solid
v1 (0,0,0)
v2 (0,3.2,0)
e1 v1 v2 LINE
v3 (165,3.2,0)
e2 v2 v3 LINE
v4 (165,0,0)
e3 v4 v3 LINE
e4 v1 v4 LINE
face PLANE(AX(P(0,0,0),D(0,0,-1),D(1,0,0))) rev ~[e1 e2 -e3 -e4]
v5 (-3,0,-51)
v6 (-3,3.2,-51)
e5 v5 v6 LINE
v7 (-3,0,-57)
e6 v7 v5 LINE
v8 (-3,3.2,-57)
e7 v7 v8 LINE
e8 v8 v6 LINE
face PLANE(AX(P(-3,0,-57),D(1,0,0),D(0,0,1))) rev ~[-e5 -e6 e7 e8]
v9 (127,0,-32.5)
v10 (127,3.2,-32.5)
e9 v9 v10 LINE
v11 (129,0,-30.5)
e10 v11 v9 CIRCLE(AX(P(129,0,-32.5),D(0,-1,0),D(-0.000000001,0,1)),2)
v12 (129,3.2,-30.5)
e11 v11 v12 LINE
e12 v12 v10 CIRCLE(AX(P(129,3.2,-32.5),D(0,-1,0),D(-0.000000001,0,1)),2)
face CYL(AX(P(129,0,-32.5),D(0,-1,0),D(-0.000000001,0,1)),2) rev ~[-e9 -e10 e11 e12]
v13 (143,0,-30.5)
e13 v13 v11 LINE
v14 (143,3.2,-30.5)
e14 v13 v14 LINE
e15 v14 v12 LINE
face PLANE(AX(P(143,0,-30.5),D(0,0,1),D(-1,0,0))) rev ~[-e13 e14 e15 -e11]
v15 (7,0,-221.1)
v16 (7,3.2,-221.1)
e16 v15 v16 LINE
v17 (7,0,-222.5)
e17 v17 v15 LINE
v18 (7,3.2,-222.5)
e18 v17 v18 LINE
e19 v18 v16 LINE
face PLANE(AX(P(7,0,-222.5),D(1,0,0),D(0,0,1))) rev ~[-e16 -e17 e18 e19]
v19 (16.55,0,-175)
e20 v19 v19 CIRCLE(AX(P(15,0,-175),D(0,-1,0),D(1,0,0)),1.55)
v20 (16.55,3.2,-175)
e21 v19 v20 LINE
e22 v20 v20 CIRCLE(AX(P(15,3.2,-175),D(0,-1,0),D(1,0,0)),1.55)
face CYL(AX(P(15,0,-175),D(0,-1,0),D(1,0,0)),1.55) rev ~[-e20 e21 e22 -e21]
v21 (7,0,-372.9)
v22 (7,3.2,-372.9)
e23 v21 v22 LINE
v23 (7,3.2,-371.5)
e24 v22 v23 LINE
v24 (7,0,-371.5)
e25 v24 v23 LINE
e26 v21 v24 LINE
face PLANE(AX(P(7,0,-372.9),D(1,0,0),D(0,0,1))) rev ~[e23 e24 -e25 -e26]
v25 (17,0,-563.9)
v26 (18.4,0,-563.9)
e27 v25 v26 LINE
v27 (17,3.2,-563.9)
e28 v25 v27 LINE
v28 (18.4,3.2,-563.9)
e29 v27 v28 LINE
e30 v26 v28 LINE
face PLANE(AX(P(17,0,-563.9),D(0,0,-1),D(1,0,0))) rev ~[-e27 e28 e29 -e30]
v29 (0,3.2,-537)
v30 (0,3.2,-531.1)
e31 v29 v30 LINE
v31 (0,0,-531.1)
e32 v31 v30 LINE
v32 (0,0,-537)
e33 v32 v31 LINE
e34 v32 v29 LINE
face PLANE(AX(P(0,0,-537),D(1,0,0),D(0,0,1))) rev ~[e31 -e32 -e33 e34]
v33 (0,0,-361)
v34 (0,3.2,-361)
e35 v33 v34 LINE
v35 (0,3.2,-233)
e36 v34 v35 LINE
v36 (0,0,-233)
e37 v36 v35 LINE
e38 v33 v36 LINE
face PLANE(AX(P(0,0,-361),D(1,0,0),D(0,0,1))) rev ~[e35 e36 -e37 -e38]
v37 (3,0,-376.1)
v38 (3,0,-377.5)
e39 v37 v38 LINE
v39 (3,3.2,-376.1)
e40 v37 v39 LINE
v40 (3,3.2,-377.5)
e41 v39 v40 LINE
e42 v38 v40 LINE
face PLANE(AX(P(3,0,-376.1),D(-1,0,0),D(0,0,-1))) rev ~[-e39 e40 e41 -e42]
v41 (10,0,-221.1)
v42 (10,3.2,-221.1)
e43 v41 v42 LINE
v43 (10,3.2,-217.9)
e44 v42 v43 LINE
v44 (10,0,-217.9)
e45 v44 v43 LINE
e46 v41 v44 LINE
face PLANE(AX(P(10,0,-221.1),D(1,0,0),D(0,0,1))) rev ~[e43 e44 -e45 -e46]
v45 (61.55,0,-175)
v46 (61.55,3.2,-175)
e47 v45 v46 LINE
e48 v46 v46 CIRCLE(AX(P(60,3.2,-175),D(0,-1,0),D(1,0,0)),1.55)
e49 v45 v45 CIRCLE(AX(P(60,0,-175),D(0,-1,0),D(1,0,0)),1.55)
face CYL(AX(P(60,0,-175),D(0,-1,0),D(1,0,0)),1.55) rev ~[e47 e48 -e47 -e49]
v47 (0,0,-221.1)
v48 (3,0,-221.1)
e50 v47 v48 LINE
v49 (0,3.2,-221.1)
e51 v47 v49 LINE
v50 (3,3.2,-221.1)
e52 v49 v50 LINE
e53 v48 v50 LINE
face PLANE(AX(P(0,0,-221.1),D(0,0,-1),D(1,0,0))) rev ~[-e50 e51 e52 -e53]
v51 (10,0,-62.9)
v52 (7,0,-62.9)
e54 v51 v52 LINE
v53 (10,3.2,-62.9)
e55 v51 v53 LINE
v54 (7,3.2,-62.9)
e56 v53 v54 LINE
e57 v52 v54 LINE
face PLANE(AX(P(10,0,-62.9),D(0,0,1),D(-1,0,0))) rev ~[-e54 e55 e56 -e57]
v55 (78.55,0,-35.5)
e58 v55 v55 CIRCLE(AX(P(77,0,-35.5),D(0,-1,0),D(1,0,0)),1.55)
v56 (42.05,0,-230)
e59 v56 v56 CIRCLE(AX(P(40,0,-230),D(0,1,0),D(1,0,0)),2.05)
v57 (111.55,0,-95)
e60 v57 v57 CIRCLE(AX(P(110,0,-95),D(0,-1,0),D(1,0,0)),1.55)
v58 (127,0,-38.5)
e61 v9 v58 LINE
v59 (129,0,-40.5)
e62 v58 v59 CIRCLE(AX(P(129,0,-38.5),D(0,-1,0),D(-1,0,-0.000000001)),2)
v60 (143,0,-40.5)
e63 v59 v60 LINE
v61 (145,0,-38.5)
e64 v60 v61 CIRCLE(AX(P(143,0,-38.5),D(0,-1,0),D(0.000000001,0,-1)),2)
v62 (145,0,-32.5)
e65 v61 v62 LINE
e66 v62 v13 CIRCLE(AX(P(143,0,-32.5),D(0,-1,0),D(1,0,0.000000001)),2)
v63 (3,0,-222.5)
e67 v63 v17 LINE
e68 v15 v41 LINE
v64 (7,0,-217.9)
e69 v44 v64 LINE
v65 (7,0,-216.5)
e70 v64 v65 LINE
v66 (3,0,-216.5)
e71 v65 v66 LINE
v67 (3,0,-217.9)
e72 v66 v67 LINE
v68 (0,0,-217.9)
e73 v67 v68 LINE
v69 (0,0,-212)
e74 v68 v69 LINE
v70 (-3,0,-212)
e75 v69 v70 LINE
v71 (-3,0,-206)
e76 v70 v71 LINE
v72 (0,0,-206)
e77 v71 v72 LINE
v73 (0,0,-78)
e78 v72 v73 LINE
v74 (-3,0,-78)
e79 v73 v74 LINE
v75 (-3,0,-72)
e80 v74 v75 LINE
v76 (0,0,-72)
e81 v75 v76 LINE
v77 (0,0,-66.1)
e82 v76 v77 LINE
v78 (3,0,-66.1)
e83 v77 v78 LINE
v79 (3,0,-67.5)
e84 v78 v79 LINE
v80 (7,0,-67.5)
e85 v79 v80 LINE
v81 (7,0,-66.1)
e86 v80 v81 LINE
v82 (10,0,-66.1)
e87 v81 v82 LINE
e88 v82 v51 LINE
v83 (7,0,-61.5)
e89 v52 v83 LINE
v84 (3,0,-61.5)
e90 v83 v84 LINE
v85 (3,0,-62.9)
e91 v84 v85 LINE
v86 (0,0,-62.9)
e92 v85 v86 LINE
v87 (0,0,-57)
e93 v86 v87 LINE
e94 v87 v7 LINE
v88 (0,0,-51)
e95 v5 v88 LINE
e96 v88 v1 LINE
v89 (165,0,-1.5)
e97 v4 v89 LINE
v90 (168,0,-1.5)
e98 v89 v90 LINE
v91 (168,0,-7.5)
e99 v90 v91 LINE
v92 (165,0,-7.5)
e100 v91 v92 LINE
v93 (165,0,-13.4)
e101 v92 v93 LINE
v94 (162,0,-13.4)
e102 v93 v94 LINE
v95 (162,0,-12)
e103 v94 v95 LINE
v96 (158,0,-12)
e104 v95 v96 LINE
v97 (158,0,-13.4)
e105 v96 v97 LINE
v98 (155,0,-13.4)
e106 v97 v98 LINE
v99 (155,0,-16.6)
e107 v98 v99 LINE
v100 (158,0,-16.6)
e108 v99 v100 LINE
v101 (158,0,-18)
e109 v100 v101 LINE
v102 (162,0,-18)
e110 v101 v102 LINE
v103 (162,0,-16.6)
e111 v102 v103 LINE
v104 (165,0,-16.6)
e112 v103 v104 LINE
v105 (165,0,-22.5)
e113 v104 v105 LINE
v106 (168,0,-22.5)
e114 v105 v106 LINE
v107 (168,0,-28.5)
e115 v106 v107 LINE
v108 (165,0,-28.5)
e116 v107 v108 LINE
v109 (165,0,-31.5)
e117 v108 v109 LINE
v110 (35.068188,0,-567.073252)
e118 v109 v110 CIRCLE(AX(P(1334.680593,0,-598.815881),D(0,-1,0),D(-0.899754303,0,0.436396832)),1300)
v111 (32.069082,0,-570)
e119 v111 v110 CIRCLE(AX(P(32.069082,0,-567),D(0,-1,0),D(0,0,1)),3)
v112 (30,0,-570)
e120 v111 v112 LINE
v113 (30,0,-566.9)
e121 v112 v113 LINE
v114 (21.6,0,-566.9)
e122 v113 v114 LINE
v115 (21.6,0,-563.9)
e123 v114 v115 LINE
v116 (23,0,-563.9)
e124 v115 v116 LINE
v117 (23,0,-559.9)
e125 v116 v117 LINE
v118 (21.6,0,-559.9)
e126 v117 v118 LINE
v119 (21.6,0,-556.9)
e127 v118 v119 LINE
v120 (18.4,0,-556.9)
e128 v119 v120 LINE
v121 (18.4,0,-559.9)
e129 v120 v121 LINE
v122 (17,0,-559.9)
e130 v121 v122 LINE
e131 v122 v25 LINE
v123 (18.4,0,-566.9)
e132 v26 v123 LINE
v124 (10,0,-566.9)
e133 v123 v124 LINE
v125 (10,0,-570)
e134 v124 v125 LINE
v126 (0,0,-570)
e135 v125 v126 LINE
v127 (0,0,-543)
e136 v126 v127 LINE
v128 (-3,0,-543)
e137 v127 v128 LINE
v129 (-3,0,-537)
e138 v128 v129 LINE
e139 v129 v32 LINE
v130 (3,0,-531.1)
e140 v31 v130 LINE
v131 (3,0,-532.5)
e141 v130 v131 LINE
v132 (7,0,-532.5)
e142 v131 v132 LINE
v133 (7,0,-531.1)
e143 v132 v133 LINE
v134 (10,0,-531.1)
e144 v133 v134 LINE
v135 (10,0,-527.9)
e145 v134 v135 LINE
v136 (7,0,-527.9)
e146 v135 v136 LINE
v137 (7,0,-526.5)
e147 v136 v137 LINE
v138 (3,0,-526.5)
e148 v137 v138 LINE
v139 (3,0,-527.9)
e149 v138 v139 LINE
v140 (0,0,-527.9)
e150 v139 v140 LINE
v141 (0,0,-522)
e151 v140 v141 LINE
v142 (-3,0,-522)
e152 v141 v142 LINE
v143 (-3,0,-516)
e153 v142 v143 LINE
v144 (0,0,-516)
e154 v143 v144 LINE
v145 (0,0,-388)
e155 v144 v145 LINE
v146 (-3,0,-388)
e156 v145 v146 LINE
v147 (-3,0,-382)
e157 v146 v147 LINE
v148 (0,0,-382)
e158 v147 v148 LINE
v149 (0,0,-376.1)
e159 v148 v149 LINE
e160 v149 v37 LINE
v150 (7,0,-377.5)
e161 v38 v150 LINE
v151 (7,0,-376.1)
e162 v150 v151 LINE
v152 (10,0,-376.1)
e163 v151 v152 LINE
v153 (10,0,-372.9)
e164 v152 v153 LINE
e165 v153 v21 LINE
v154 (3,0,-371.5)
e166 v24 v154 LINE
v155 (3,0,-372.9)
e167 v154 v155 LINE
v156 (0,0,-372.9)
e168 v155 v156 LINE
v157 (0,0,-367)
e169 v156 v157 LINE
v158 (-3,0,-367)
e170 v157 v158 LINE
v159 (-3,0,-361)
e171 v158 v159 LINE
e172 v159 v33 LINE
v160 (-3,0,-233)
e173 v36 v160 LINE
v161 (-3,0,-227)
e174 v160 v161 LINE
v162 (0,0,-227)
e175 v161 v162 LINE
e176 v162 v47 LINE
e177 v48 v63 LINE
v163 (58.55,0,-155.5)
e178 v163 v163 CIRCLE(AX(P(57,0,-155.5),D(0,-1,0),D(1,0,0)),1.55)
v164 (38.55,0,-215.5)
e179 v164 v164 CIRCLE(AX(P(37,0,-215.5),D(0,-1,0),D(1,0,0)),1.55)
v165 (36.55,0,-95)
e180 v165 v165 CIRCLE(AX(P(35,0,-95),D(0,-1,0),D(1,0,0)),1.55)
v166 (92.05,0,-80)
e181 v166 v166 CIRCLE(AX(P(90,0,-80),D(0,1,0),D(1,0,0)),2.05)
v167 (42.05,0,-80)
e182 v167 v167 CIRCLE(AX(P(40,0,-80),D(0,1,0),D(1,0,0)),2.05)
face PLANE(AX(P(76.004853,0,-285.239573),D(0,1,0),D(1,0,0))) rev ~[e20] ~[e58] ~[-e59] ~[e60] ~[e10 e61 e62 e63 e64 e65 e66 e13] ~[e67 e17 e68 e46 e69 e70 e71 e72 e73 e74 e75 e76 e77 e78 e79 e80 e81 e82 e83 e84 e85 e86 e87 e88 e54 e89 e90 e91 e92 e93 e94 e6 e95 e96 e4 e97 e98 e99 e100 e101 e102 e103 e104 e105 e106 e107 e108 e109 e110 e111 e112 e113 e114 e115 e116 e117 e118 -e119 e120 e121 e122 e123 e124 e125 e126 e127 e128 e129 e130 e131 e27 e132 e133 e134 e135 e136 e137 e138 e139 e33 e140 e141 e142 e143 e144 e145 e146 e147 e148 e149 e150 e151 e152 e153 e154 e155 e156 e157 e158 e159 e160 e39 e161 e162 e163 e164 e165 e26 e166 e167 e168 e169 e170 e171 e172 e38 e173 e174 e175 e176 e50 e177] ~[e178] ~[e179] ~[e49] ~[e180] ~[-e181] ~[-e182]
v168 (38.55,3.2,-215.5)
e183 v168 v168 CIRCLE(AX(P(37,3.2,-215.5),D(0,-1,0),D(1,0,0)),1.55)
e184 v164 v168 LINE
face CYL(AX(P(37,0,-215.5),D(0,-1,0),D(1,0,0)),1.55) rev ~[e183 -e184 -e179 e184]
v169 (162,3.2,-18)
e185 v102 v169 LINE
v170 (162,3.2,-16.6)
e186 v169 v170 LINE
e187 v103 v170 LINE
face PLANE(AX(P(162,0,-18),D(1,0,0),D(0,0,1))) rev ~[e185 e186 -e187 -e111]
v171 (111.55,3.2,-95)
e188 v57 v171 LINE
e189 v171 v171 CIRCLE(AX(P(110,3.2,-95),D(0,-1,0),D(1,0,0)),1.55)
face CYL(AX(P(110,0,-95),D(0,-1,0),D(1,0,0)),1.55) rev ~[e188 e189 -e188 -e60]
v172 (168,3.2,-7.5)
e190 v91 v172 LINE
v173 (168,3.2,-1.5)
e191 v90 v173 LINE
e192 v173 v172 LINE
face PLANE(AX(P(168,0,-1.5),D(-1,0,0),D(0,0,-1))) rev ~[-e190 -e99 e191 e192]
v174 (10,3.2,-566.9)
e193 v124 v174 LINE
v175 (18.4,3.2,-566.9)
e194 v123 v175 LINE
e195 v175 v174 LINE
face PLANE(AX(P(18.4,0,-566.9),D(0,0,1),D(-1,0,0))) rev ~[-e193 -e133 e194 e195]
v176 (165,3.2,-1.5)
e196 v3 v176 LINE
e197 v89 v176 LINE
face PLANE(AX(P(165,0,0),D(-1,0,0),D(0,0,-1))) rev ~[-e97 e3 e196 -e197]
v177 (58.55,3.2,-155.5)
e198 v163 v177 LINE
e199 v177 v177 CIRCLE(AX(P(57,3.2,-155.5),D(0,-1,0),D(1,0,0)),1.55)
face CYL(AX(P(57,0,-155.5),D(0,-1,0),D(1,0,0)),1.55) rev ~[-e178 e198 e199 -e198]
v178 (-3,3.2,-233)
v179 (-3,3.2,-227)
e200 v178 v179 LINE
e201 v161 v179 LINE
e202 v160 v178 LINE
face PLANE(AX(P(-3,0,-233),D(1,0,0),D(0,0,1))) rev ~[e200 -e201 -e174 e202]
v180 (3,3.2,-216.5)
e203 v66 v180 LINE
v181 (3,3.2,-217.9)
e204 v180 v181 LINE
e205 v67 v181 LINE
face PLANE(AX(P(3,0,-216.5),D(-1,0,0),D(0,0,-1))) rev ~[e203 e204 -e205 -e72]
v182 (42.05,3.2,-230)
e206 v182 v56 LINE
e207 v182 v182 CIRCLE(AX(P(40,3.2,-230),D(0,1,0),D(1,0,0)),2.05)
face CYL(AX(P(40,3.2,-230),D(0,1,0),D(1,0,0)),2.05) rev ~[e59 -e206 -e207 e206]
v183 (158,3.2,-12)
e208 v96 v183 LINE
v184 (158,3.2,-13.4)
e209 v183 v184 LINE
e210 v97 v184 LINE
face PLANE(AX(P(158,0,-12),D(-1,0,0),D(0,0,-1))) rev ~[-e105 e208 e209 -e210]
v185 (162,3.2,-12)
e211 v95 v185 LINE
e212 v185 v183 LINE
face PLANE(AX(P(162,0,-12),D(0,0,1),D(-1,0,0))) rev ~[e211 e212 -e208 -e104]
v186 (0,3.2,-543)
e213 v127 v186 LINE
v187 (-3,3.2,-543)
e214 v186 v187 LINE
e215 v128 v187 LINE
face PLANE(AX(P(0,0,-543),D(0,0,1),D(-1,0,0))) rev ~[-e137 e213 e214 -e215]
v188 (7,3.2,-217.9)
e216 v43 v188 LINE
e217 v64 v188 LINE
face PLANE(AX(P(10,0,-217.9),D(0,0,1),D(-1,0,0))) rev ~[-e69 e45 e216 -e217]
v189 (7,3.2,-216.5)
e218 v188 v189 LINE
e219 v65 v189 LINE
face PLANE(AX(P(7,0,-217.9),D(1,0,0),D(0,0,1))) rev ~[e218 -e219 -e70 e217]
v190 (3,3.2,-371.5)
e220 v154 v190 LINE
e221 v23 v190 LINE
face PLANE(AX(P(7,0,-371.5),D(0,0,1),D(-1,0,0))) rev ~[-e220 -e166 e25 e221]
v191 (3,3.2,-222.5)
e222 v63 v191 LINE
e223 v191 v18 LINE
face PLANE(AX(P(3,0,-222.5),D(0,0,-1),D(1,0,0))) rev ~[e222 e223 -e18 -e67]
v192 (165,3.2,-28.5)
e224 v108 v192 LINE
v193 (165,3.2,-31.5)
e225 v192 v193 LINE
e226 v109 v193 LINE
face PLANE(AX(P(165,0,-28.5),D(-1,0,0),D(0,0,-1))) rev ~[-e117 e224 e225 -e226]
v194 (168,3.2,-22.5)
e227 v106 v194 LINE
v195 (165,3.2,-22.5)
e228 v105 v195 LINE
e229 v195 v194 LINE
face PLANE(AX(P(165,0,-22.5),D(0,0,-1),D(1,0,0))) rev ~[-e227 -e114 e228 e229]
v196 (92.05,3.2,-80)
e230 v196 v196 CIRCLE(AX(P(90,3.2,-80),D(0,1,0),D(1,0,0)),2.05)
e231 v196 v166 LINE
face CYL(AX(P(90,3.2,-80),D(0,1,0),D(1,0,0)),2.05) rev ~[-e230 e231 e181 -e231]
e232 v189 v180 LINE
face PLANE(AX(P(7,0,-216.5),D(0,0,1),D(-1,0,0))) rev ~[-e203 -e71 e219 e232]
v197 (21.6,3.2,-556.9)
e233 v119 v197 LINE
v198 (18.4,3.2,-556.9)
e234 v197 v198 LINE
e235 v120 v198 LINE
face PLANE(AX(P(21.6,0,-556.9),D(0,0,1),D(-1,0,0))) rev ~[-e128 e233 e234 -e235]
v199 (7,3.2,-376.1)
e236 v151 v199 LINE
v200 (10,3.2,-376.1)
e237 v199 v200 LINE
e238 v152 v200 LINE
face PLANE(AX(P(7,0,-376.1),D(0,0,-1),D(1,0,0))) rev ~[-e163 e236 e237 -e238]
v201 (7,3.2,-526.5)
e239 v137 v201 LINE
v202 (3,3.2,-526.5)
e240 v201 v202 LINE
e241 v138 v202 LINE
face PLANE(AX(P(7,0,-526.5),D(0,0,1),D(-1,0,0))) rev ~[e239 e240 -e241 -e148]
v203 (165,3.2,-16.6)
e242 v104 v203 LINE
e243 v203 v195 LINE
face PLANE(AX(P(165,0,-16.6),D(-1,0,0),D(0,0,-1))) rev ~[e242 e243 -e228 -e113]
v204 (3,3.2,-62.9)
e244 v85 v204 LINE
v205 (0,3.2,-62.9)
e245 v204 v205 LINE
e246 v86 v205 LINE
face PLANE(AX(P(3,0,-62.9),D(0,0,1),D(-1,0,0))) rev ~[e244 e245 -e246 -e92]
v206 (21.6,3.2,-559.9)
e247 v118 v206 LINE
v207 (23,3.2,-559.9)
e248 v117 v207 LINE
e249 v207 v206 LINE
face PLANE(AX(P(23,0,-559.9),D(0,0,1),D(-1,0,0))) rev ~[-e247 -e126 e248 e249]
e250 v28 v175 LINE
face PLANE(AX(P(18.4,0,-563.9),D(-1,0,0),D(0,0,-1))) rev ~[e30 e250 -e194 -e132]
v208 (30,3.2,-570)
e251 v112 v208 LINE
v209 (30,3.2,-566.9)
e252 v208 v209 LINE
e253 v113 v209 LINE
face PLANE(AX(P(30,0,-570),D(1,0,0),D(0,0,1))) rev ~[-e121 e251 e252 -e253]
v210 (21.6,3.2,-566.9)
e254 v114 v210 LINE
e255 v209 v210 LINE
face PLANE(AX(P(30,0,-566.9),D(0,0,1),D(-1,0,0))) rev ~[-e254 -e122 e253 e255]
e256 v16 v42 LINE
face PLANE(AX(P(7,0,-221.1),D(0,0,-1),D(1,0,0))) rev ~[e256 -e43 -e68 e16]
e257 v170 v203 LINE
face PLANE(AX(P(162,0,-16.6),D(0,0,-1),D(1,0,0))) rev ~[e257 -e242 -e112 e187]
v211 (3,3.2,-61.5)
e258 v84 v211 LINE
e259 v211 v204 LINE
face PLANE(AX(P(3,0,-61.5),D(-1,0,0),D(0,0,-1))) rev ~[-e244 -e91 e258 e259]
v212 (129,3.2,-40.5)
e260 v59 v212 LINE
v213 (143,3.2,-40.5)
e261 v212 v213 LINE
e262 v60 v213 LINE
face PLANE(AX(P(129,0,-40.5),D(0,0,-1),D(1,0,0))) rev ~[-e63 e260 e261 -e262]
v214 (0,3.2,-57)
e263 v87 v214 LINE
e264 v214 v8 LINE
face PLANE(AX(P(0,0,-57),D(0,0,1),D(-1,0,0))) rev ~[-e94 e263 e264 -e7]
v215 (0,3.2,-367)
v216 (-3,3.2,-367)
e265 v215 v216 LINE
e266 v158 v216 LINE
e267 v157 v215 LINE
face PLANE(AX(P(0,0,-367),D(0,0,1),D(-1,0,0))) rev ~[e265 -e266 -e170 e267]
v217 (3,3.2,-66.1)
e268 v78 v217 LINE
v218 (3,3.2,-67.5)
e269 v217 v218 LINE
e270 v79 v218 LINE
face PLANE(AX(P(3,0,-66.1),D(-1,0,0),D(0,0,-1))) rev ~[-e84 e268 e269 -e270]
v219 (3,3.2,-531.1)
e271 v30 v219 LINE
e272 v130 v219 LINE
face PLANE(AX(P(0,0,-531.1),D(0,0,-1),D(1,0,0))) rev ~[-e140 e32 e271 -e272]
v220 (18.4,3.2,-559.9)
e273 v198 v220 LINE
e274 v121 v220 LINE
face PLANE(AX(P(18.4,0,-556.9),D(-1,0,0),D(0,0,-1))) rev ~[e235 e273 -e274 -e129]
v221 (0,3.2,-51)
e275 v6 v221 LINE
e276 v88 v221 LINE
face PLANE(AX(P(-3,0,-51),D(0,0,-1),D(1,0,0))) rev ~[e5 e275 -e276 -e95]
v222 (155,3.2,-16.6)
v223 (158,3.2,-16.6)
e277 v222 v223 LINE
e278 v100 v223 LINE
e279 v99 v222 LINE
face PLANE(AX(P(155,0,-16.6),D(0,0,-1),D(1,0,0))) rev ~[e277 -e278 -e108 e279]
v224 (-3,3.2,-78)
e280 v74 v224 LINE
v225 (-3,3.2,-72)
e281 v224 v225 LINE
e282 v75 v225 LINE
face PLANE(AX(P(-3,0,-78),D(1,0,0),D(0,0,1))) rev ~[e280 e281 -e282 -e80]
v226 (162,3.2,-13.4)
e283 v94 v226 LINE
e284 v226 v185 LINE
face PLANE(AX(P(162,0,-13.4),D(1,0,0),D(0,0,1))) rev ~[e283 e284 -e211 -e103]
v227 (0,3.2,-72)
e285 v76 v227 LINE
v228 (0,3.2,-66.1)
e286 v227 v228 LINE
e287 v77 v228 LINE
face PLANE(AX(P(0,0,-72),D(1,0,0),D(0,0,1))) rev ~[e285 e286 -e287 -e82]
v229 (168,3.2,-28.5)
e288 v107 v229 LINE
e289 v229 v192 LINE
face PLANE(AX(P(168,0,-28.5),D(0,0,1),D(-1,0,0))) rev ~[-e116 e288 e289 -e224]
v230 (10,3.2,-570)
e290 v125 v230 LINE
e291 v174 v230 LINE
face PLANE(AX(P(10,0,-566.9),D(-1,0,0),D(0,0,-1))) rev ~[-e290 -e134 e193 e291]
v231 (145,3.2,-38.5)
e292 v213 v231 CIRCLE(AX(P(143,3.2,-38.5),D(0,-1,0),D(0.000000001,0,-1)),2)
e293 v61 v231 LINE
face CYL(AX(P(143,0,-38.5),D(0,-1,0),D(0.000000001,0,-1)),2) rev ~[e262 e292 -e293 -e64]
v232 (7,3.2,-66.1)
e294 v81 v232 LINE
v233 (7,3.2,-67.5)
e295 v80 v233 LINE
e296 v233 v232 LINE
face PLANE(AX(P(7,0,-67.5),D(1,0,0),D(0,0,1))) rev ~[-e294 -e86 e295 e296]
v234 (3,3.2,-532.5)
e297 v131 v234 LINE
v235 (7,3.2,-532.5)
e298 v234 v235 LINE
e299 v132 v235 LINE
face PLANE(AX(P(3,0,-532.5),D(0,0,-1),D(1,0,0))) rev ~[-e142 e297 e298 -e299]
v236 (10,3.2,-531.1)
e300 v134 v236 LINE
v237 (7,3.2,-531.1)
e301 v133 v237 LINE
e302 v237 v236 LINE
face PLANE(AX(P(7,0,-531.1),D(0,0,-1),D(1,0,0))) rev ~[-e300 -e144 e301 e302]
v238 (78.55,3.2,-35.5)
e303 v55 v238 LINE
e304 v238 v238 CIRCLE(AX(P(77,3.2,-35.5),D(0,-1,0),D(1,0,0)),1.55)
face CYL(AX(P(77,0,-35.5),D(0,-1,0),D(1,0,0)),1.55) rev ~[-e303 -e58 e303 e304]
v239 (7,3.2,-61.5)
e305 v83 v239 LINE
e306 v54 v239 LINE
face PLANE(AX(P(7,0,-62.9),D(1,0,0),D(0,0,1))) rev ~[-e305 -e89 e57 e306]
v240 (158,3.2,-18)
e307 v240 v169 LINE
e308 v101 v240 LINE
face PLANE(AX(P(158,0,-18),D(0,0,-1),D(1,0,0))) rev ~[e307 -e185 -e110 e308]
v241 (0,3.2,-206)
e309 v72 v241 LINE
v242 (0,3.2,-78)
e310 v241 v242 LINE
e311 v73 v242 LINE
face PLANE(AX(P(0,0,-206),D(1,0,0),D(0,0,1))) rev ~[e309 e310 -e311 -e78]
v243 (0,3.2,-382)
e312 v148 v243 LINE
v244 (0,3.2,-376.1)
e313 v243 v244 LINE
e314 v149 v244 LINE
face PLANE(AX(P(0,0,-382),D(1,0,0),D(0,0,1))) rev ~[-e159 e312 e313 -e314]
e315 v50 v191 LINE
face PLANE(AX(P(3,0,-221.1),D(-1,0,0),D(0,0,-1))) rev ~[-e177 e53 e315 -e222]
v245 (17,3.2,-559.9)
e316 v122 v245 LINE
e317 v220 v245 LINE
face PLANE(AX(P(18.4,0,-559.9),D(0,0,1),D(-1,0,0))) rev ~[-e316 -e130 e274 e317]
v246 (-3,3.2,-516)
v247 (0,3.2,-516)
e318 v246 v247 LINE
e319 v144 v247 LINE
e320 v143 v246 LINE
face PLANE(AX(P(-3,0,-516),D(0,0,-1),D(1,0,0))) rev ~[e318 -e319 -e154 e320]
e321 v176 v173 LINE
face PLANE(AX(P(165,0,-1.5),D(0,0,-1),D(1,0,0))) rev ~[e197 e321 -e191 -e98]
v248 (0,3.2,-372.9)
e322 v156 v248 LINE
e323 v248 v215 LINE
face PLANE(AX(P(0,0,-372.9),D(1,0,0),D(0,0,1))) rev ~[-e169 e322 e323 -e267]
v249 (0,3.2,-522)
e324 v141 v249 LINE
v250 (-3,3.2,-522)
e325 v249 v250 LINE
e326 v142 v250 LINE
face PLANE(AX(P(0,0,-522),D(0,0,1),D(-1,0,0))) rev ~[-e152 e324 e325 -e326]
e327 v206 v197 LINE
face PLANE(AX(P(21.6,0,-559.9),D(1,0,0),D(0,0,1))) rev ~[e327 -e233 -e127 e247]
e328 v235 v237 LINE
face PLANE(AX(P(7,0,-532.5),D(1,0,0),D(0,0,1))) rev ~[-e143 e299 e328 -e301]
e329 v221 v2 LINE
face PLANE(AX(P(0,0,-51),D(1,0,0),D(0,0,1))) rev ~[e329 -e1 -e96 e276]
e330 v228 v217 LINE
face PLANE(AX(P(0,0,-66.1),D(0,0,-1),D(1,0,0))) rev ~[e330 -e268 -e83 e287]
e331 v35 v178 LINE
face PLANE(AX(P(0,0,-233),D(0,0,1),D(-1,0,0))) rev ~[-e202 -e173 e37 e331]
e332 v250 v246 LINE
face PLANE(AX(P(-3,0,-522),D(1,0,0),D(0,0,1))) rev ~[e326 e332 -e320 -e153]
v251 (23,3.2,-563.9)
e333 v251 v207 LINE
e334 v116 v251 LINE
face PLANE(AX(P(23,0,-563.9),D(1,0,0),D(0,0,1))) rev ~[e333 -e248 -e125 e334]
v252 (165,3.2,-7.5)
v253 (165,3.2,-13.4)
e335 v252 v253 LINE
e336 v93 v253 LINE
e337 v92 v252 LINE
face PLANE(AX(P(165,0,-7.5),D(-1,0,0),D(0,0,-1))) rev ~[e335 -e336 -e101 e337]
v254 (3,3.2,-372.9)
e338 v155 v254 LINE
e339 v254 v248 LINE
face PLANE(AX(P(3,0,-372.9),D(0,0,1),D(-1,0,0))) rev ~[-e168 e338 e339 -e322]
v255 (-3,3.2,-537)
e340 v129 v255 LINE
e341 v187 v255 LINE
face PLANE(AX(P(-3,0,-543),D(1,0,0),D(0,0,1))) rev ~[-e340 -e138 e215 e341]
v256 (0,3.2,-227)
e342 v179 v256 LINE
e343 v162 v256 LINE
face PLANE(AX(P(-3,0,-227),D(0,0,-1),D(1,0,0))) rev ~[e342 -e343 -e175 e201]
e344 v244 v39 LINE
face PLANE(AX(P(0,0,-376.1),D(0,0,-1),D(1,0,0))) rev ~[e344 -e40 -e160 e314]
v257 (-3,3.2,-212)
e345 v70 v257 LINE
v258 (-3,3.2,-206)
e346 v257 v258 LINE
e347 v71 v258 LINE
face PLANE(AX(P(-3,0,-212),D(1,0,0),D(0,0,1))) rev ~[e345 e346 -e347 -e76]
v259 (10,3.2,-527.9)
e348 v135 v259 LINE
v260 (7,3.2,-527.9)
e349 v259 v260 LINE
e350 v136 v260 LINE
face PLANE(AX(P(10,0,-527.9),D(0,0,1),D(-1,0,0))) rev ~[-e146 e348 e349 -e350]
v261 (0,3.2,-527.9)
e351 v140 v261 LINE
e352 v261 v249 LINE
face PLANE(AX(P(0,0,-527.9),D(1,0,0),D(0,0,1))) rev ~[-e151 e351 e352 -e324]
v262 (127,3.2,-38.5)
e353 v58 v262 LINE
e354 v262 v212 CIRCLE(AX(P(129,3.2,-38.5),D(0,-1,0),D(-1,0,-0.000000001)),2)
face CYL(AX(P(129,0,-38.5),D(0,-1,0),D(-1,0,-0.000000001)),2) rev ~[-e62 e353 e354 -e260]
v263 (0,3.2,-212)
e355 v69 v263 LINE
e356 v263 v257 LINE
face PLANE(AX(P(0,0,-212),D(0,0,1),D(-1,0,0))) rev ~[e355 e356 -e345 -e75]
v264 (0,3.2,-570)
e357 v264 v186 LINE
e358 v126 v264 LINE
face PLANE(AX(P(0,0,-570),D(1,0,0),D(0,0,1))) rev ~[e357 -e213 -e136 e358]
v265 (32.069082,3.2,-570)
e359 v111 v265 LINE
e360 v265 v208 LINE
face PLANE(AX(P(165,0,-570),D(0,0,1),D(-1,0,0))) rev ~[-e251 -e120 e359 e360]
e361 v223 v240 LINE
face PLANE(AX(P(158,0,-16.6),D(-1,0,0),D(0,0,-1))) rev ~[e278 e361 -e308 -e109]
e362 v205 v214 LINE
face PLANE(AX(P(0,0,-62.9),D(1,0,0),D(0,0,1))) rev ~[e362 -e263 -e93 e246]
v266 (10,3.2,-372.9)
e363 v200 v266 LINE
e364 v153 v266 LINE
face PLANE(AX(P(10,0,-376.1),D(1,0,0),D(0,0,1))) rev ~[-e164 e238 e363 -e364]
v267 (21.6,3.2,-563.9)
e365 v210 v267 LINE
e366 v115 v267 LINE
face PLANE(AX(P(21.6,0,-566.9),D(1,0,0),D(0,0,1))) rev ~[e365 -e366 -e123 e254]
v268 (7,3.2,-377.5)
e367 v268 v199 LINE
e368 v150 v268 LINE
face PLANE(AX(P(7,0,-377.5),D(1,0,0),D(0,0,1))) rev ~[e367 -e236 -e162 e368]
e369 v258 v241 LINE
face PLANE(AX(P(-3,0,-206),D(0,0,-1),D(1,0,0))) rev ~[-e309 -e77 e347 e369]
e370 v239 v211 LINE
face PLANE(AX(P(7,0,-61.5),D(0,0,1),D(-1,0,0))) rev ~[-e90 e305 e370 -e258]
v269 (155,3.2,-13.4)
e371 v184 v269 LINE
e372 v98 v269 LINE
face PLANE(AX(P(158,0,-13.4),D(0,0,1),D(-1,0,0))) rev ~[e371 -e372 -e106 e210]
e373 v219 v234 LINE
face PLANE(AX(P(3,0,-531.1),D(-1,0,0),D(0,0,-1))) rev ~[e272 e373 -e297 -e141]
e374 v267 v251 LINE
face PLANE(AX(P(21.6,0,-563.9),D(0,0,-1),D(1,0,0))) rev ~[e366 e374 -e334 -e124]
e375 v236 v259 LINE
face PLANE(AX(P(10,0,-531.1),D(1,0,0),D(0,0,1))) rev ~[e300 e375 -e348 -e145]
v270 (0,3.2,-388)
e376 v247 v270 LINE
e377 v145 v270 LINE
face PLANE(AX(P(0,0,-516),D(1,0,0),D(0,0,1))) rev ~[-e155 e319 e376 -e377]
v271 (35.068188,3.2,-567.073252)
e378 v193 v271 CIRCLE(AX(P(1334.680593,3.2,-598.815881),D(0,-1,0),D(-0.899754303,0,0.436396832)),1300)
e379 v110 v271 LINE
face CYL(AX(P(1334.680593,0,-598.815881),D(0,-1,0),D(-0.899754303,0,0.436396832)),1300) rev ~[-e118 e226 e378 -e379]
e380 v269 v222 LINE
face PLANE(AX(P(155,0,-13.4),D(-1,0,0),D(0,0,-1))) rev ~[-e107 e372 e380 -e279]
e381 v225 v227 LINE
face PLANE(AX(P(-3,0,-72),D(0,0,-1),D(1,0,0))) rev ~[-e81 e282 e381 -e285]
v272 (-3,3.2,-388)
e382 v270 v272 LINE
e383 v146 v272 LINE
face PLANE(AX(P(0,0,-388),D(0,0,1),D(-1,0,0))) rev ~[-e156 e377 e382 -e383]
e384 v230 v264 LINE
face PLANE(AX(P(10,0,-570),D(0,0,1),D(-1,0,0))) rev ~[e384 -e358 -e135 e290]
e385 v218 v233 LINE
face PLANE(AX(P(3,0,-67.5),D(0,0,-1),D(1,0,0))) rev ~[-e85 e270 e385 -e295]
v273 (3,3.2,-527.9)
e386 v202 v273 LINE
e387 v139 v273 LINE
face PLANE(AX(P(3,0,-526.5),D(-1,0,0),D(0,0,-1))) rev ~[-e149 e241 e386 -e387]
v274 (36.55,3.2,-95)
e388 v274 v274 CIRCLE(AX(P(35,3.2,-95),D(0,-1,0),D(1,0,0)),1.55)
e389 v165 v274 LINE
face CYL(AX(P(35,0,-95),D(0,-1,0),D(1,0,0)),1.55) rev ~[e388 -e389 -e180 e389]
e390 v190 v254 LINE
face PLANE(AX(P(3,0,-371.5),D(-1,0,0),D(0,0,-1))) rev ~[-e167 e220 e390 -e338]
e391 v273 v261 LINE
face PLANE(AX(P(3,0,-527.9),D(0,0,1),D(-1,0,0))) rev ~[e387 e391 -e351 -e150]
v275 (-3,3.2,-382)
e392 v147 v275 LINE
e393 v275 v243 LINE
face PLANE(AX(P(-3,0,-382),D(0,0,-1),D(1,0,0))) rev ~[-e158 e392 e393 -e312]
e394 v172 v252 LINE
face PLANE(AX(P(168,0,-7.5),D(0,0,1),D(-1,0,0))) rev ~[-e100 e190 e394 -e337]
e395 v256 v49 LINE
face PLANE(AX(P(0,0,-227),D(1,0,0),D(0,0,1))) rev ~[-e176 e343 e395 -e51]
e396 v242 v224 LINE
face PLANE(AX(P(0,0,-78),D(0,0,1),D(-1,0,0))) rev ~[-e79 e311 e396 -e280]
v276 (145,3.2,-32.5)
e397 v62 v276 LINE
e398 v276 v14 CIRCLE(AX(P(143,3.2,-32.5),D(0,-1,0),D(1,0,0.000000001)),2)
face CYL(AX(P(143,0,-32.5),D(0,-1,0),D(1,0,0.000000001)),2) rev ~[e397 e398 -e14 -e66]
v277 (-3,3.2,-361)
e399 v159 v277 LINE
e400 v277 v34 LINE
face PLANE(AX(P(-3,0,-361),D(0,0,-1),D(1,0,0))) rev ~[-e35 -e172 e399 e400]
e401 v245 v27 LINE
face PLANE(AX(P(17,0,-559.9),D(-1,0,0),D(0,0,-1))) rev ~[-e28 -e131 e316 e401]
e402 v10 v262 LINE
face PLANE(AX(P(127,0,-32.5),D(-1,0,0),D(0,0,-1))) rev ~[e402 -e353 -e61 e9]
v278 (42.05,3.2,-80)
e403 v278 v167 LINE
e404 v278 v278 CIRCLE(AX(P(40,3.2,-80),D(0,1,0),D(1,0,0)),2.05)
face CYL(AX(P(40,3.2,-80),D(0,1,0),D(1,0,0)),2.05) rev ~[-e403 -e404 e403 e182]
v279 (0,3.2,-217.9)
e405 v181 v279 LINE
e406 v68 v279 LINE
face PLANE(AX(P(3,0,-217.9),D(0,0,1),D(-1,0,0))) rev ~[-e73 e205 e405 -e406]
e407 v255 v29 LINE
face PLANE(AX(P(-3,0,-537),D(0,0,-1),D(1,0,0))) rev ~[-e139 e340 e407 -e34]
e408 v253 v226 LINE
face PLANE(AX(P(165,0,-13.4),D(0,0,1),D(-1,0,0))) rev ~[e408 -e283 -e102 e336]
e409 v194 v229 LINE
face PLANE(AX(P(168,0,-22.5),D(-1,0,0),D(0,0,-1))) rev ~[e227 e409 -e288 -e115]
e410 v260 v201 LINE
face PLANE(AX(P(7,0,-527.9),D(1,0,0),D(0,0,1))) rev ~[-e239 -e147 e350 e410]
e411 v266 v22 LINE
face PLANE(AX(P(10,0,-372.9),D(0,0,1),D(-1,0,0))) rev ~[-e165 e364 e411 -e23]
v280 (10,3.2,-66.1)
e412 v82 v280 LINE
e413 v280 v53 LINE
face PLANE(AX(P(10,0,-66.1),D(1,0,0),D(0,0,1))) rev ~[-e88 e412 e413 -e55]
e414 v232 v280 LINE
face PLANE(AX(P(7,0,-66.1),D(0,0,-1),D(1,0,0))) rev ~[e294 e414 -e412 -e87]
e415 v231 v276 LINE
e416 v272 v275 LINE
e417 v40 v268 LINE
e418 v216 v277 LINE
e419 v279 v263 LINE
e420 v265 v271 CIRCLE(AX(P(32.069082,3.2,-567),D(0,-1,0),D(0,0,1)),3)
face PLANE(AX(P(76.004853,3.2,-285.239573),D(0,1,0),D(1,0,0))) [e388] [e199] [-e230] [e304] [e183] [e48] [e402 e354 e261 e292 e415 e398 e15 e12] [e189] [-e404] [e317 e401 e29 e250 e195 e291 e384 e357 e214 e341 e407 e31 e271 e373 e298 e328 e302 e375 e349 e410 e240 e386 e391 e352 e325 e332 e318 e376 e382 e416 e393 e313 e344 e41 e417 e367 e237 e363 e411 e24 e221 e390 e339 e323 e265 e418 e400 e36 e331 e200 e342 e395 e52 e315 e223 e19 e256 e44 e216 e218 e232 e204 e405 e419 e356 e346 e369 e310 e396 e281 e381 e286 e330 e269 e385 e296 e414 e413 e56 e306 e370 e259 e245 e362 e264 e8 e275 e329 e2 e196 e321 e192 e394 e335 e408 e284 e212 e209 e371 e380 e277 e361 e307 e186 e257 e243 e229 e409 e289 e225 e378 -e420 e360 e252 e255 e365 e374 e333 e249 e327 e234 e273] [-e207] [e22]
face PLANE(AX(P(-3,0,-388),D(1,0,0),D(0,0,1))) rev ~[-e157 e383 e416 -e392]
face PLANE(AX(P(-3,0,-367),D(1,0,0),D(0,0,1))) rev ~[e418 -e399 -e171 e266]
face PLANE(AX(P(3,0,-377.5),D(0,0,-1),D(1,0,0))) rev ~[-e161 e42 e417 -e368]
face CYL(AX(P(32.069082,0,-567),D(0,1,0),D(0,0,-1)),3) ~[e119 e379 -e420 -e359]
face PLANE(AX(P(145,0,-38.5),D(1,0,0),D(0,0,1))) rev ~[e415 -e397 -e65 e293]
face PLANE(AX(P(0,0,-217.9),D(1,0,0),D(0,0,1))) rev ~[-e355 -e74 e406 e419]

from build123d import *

# Parameters (mm, degrees)
SALIENTE_EXTRUIR1_DEPTH = 3.2
CROQUIS3_R              = 2.05
CORTAR_EXTRUIR2_DEPTH   = 3.2
CORTAR_EXTRUIR3_DEPTH   = 3.2
CORTAR_EXTRUIR4_DEPTH   = 3.2
REDONDEO1_R             = 3
CROQUIS6_R              = 1.55
CORTAR_EXTRUIR5_DEPTH   = 3.2


with BuildPart() as part:
    # Croquis1 → Saliente-Extruir1 (new body)
    with BuildSketch(Plane(origin=(0, 0, 0), x_dir=(1, 0, 0), z_dir=(0, 1, 0))):
        Polygon((7, 66.1), (10, 66.1), (10, 62.9), (7, 62.9), (7, 61.5), (3, 61.5), (3, 62.9), (0, 62.9), (0, 57), (-3, 57), (-3, 51), (0, 51), (0, 0), (165, 0), (165, 1.5), (168, 1.5), (168, 7.5), (165, 7.5), (165, 13.4), (162, 13.4), (162, 12), (158, 12), (158, 13.4), (155, 13.4), (155, 16.6), (158, 16.6), (158, 18), (162, 18), (162, 16.6), (165, 16.6), (165, 22.5), (168, 22.5), (168, 28.5), (165, 28.5), (165, 570), (30, 570), (30, 566.9), (21.6, 566.9), (21.6, 563.9), (23, 563.9), (23, 559.9), (21.6, 559.9), (21.6, 556.9), (18.4, 556.9), (18.4, 559.9), (17, 559.9), (17, 563.9), (18.4, 563.9), (18.4, 566.9), (10, 566.9), (10, 570), (0, 570), (0, 543), (-3, 543), (-3, 537), (0, 537), (0, 531.1), (3, 531.1), (3, 532.5), (7, 532.5), (7, 531.1), (10, 531.1), (10, 527.9), (7, 527.9), (7, 526.5), (3, 526.5), (3, 527.9), (0, 527.9), (0, 522), (-3, 522), (-3, 516), (0, 516), (0, 388), (-3, 388), (-3, 382), (0, 382), (0, 376.1), (3, 376.1), (3, 377.5), (7, 377.5), (7, 376.1), (10, 376.1), (10, 372.9), (7, 372.9), (7, 371.5), (3, 371.5), (3, 372.9), (0, 372.9), (0, 367), (-3, 367), (-3, 361), (0, 361), (0, 233), (-3, 233), (-3, 227), (0, 227), (0, 221.1), (3, 221.1), (3, 222.5), (7, 222.5), (7, 221.1), (10, 221.1), (10, 217.9), (7, 217.9), (7, 216.5), (3, 216.5), (3, 217.9), (0, 217.9), (0, 212), (-3, 212), (-3, 206), (0, 206), (0, 78), (-3, 78), (-3, 72), (0, 72), (0, 66.1), (3, 66.1), (3, 67.5), (7, 67.5), align=None)
    extrude(amount=SALIENTE_EXTRUIR1_DEPTH)

    # Croquis3 → Cortar-Extruir2 (cut)
    with BuildSketch(Plane(origin=(0, 3.2, 0), x_dir=(1, 0, 0), z_dir=(0, 1, 0))):
        with Locations((40, 80)):
            Circle(CROQUIS3_R)
        with Locations((90, 80)):
            Circle(CROQUIS3_R)
        with Locations((40, 230)):
            Circle(CROQUIS3_R)
    extrude(amount=-CORTAR_EXTRUIR2_DEPTH, mode=Mode.SUBTRACT)

    # Croquis4 → Cortar-Extruir3 (cut)
    with BuildSketch(Plane.XZ):
        with BuildLine():
            Line((143, -30.5), (129, -30.5))
            ThreePointArc((129, -30.5), (127.585786438, -31.085786438), (127, -32.5))
            Line((127, -32.5), (127, -38.5))
            ThreePointArc((127, -38.5), (127.585786438, -39.914213562), (129, -40.5))
            Line((129, -40.5), (143, -40.5))
            ThreePointArc((143, -40.5), (144.414213562, -39.914213562), (145, -38.5))
            Line((145, -38.5), (145, -32.5))
            ThreePointArc((145, -32.5), (144.414213562, -31.085786438), (143, -30.5))
        make_face()
    extrude(amount=-CORTAR_EXTRUIR3_DEPTH, mode=Mode.SUBTRACT)

    # Croquis5 → Cortar-Extruir4 (cut)
    with BuildSketch(Plane.XZ):
        with BuildLine():
            Line((35, -570), (165, -570))
            Line((165, -570), (165, -31.5))
            ThreePointArc((165, -31.5), (70.982951471, -293.744955787), (35, -570))
        make_face()
    extrude(amount=-CORTAR_EXTRUIR4_DEPTH, mode=Mode.SUBTRACT)

    # Redondeo1
    redondeo1_edges = [part.edges().sort_by_distance(p)[0] for p in [
        (35, 1.6, -570),
    ]]
    fillet(redondeo1_edges, radius=REDONDEO1_R)

    # Croquis6 → Cortar-Extruir5 (cut)
    with BuildSketch(Plane.XZ):
        with Locations((110, -95)):
            Circle(CROQUIS6_R)
        with Locations((35, -95)):
            Circle(CROQUIS6_R)
        with Locations((60, -175)):
            Circle(CROQUIS6_R)
        with Locations((15, -175)):
            Circle(CROQUIS6_R)
        with Locations((77, -35.5)):
            Circle(CROQUIS6_R)
        with Locations((37, -215.5)):
            Circle(CROQUIS6_R)
        with Locations((57, -155.5)):
            Circle(CROQUIS6_R)
    extrude(amount=-CORTAR_EXTRUIR5_DEPTH, mode=Mode.SUBTRACT)


solid = part.part
